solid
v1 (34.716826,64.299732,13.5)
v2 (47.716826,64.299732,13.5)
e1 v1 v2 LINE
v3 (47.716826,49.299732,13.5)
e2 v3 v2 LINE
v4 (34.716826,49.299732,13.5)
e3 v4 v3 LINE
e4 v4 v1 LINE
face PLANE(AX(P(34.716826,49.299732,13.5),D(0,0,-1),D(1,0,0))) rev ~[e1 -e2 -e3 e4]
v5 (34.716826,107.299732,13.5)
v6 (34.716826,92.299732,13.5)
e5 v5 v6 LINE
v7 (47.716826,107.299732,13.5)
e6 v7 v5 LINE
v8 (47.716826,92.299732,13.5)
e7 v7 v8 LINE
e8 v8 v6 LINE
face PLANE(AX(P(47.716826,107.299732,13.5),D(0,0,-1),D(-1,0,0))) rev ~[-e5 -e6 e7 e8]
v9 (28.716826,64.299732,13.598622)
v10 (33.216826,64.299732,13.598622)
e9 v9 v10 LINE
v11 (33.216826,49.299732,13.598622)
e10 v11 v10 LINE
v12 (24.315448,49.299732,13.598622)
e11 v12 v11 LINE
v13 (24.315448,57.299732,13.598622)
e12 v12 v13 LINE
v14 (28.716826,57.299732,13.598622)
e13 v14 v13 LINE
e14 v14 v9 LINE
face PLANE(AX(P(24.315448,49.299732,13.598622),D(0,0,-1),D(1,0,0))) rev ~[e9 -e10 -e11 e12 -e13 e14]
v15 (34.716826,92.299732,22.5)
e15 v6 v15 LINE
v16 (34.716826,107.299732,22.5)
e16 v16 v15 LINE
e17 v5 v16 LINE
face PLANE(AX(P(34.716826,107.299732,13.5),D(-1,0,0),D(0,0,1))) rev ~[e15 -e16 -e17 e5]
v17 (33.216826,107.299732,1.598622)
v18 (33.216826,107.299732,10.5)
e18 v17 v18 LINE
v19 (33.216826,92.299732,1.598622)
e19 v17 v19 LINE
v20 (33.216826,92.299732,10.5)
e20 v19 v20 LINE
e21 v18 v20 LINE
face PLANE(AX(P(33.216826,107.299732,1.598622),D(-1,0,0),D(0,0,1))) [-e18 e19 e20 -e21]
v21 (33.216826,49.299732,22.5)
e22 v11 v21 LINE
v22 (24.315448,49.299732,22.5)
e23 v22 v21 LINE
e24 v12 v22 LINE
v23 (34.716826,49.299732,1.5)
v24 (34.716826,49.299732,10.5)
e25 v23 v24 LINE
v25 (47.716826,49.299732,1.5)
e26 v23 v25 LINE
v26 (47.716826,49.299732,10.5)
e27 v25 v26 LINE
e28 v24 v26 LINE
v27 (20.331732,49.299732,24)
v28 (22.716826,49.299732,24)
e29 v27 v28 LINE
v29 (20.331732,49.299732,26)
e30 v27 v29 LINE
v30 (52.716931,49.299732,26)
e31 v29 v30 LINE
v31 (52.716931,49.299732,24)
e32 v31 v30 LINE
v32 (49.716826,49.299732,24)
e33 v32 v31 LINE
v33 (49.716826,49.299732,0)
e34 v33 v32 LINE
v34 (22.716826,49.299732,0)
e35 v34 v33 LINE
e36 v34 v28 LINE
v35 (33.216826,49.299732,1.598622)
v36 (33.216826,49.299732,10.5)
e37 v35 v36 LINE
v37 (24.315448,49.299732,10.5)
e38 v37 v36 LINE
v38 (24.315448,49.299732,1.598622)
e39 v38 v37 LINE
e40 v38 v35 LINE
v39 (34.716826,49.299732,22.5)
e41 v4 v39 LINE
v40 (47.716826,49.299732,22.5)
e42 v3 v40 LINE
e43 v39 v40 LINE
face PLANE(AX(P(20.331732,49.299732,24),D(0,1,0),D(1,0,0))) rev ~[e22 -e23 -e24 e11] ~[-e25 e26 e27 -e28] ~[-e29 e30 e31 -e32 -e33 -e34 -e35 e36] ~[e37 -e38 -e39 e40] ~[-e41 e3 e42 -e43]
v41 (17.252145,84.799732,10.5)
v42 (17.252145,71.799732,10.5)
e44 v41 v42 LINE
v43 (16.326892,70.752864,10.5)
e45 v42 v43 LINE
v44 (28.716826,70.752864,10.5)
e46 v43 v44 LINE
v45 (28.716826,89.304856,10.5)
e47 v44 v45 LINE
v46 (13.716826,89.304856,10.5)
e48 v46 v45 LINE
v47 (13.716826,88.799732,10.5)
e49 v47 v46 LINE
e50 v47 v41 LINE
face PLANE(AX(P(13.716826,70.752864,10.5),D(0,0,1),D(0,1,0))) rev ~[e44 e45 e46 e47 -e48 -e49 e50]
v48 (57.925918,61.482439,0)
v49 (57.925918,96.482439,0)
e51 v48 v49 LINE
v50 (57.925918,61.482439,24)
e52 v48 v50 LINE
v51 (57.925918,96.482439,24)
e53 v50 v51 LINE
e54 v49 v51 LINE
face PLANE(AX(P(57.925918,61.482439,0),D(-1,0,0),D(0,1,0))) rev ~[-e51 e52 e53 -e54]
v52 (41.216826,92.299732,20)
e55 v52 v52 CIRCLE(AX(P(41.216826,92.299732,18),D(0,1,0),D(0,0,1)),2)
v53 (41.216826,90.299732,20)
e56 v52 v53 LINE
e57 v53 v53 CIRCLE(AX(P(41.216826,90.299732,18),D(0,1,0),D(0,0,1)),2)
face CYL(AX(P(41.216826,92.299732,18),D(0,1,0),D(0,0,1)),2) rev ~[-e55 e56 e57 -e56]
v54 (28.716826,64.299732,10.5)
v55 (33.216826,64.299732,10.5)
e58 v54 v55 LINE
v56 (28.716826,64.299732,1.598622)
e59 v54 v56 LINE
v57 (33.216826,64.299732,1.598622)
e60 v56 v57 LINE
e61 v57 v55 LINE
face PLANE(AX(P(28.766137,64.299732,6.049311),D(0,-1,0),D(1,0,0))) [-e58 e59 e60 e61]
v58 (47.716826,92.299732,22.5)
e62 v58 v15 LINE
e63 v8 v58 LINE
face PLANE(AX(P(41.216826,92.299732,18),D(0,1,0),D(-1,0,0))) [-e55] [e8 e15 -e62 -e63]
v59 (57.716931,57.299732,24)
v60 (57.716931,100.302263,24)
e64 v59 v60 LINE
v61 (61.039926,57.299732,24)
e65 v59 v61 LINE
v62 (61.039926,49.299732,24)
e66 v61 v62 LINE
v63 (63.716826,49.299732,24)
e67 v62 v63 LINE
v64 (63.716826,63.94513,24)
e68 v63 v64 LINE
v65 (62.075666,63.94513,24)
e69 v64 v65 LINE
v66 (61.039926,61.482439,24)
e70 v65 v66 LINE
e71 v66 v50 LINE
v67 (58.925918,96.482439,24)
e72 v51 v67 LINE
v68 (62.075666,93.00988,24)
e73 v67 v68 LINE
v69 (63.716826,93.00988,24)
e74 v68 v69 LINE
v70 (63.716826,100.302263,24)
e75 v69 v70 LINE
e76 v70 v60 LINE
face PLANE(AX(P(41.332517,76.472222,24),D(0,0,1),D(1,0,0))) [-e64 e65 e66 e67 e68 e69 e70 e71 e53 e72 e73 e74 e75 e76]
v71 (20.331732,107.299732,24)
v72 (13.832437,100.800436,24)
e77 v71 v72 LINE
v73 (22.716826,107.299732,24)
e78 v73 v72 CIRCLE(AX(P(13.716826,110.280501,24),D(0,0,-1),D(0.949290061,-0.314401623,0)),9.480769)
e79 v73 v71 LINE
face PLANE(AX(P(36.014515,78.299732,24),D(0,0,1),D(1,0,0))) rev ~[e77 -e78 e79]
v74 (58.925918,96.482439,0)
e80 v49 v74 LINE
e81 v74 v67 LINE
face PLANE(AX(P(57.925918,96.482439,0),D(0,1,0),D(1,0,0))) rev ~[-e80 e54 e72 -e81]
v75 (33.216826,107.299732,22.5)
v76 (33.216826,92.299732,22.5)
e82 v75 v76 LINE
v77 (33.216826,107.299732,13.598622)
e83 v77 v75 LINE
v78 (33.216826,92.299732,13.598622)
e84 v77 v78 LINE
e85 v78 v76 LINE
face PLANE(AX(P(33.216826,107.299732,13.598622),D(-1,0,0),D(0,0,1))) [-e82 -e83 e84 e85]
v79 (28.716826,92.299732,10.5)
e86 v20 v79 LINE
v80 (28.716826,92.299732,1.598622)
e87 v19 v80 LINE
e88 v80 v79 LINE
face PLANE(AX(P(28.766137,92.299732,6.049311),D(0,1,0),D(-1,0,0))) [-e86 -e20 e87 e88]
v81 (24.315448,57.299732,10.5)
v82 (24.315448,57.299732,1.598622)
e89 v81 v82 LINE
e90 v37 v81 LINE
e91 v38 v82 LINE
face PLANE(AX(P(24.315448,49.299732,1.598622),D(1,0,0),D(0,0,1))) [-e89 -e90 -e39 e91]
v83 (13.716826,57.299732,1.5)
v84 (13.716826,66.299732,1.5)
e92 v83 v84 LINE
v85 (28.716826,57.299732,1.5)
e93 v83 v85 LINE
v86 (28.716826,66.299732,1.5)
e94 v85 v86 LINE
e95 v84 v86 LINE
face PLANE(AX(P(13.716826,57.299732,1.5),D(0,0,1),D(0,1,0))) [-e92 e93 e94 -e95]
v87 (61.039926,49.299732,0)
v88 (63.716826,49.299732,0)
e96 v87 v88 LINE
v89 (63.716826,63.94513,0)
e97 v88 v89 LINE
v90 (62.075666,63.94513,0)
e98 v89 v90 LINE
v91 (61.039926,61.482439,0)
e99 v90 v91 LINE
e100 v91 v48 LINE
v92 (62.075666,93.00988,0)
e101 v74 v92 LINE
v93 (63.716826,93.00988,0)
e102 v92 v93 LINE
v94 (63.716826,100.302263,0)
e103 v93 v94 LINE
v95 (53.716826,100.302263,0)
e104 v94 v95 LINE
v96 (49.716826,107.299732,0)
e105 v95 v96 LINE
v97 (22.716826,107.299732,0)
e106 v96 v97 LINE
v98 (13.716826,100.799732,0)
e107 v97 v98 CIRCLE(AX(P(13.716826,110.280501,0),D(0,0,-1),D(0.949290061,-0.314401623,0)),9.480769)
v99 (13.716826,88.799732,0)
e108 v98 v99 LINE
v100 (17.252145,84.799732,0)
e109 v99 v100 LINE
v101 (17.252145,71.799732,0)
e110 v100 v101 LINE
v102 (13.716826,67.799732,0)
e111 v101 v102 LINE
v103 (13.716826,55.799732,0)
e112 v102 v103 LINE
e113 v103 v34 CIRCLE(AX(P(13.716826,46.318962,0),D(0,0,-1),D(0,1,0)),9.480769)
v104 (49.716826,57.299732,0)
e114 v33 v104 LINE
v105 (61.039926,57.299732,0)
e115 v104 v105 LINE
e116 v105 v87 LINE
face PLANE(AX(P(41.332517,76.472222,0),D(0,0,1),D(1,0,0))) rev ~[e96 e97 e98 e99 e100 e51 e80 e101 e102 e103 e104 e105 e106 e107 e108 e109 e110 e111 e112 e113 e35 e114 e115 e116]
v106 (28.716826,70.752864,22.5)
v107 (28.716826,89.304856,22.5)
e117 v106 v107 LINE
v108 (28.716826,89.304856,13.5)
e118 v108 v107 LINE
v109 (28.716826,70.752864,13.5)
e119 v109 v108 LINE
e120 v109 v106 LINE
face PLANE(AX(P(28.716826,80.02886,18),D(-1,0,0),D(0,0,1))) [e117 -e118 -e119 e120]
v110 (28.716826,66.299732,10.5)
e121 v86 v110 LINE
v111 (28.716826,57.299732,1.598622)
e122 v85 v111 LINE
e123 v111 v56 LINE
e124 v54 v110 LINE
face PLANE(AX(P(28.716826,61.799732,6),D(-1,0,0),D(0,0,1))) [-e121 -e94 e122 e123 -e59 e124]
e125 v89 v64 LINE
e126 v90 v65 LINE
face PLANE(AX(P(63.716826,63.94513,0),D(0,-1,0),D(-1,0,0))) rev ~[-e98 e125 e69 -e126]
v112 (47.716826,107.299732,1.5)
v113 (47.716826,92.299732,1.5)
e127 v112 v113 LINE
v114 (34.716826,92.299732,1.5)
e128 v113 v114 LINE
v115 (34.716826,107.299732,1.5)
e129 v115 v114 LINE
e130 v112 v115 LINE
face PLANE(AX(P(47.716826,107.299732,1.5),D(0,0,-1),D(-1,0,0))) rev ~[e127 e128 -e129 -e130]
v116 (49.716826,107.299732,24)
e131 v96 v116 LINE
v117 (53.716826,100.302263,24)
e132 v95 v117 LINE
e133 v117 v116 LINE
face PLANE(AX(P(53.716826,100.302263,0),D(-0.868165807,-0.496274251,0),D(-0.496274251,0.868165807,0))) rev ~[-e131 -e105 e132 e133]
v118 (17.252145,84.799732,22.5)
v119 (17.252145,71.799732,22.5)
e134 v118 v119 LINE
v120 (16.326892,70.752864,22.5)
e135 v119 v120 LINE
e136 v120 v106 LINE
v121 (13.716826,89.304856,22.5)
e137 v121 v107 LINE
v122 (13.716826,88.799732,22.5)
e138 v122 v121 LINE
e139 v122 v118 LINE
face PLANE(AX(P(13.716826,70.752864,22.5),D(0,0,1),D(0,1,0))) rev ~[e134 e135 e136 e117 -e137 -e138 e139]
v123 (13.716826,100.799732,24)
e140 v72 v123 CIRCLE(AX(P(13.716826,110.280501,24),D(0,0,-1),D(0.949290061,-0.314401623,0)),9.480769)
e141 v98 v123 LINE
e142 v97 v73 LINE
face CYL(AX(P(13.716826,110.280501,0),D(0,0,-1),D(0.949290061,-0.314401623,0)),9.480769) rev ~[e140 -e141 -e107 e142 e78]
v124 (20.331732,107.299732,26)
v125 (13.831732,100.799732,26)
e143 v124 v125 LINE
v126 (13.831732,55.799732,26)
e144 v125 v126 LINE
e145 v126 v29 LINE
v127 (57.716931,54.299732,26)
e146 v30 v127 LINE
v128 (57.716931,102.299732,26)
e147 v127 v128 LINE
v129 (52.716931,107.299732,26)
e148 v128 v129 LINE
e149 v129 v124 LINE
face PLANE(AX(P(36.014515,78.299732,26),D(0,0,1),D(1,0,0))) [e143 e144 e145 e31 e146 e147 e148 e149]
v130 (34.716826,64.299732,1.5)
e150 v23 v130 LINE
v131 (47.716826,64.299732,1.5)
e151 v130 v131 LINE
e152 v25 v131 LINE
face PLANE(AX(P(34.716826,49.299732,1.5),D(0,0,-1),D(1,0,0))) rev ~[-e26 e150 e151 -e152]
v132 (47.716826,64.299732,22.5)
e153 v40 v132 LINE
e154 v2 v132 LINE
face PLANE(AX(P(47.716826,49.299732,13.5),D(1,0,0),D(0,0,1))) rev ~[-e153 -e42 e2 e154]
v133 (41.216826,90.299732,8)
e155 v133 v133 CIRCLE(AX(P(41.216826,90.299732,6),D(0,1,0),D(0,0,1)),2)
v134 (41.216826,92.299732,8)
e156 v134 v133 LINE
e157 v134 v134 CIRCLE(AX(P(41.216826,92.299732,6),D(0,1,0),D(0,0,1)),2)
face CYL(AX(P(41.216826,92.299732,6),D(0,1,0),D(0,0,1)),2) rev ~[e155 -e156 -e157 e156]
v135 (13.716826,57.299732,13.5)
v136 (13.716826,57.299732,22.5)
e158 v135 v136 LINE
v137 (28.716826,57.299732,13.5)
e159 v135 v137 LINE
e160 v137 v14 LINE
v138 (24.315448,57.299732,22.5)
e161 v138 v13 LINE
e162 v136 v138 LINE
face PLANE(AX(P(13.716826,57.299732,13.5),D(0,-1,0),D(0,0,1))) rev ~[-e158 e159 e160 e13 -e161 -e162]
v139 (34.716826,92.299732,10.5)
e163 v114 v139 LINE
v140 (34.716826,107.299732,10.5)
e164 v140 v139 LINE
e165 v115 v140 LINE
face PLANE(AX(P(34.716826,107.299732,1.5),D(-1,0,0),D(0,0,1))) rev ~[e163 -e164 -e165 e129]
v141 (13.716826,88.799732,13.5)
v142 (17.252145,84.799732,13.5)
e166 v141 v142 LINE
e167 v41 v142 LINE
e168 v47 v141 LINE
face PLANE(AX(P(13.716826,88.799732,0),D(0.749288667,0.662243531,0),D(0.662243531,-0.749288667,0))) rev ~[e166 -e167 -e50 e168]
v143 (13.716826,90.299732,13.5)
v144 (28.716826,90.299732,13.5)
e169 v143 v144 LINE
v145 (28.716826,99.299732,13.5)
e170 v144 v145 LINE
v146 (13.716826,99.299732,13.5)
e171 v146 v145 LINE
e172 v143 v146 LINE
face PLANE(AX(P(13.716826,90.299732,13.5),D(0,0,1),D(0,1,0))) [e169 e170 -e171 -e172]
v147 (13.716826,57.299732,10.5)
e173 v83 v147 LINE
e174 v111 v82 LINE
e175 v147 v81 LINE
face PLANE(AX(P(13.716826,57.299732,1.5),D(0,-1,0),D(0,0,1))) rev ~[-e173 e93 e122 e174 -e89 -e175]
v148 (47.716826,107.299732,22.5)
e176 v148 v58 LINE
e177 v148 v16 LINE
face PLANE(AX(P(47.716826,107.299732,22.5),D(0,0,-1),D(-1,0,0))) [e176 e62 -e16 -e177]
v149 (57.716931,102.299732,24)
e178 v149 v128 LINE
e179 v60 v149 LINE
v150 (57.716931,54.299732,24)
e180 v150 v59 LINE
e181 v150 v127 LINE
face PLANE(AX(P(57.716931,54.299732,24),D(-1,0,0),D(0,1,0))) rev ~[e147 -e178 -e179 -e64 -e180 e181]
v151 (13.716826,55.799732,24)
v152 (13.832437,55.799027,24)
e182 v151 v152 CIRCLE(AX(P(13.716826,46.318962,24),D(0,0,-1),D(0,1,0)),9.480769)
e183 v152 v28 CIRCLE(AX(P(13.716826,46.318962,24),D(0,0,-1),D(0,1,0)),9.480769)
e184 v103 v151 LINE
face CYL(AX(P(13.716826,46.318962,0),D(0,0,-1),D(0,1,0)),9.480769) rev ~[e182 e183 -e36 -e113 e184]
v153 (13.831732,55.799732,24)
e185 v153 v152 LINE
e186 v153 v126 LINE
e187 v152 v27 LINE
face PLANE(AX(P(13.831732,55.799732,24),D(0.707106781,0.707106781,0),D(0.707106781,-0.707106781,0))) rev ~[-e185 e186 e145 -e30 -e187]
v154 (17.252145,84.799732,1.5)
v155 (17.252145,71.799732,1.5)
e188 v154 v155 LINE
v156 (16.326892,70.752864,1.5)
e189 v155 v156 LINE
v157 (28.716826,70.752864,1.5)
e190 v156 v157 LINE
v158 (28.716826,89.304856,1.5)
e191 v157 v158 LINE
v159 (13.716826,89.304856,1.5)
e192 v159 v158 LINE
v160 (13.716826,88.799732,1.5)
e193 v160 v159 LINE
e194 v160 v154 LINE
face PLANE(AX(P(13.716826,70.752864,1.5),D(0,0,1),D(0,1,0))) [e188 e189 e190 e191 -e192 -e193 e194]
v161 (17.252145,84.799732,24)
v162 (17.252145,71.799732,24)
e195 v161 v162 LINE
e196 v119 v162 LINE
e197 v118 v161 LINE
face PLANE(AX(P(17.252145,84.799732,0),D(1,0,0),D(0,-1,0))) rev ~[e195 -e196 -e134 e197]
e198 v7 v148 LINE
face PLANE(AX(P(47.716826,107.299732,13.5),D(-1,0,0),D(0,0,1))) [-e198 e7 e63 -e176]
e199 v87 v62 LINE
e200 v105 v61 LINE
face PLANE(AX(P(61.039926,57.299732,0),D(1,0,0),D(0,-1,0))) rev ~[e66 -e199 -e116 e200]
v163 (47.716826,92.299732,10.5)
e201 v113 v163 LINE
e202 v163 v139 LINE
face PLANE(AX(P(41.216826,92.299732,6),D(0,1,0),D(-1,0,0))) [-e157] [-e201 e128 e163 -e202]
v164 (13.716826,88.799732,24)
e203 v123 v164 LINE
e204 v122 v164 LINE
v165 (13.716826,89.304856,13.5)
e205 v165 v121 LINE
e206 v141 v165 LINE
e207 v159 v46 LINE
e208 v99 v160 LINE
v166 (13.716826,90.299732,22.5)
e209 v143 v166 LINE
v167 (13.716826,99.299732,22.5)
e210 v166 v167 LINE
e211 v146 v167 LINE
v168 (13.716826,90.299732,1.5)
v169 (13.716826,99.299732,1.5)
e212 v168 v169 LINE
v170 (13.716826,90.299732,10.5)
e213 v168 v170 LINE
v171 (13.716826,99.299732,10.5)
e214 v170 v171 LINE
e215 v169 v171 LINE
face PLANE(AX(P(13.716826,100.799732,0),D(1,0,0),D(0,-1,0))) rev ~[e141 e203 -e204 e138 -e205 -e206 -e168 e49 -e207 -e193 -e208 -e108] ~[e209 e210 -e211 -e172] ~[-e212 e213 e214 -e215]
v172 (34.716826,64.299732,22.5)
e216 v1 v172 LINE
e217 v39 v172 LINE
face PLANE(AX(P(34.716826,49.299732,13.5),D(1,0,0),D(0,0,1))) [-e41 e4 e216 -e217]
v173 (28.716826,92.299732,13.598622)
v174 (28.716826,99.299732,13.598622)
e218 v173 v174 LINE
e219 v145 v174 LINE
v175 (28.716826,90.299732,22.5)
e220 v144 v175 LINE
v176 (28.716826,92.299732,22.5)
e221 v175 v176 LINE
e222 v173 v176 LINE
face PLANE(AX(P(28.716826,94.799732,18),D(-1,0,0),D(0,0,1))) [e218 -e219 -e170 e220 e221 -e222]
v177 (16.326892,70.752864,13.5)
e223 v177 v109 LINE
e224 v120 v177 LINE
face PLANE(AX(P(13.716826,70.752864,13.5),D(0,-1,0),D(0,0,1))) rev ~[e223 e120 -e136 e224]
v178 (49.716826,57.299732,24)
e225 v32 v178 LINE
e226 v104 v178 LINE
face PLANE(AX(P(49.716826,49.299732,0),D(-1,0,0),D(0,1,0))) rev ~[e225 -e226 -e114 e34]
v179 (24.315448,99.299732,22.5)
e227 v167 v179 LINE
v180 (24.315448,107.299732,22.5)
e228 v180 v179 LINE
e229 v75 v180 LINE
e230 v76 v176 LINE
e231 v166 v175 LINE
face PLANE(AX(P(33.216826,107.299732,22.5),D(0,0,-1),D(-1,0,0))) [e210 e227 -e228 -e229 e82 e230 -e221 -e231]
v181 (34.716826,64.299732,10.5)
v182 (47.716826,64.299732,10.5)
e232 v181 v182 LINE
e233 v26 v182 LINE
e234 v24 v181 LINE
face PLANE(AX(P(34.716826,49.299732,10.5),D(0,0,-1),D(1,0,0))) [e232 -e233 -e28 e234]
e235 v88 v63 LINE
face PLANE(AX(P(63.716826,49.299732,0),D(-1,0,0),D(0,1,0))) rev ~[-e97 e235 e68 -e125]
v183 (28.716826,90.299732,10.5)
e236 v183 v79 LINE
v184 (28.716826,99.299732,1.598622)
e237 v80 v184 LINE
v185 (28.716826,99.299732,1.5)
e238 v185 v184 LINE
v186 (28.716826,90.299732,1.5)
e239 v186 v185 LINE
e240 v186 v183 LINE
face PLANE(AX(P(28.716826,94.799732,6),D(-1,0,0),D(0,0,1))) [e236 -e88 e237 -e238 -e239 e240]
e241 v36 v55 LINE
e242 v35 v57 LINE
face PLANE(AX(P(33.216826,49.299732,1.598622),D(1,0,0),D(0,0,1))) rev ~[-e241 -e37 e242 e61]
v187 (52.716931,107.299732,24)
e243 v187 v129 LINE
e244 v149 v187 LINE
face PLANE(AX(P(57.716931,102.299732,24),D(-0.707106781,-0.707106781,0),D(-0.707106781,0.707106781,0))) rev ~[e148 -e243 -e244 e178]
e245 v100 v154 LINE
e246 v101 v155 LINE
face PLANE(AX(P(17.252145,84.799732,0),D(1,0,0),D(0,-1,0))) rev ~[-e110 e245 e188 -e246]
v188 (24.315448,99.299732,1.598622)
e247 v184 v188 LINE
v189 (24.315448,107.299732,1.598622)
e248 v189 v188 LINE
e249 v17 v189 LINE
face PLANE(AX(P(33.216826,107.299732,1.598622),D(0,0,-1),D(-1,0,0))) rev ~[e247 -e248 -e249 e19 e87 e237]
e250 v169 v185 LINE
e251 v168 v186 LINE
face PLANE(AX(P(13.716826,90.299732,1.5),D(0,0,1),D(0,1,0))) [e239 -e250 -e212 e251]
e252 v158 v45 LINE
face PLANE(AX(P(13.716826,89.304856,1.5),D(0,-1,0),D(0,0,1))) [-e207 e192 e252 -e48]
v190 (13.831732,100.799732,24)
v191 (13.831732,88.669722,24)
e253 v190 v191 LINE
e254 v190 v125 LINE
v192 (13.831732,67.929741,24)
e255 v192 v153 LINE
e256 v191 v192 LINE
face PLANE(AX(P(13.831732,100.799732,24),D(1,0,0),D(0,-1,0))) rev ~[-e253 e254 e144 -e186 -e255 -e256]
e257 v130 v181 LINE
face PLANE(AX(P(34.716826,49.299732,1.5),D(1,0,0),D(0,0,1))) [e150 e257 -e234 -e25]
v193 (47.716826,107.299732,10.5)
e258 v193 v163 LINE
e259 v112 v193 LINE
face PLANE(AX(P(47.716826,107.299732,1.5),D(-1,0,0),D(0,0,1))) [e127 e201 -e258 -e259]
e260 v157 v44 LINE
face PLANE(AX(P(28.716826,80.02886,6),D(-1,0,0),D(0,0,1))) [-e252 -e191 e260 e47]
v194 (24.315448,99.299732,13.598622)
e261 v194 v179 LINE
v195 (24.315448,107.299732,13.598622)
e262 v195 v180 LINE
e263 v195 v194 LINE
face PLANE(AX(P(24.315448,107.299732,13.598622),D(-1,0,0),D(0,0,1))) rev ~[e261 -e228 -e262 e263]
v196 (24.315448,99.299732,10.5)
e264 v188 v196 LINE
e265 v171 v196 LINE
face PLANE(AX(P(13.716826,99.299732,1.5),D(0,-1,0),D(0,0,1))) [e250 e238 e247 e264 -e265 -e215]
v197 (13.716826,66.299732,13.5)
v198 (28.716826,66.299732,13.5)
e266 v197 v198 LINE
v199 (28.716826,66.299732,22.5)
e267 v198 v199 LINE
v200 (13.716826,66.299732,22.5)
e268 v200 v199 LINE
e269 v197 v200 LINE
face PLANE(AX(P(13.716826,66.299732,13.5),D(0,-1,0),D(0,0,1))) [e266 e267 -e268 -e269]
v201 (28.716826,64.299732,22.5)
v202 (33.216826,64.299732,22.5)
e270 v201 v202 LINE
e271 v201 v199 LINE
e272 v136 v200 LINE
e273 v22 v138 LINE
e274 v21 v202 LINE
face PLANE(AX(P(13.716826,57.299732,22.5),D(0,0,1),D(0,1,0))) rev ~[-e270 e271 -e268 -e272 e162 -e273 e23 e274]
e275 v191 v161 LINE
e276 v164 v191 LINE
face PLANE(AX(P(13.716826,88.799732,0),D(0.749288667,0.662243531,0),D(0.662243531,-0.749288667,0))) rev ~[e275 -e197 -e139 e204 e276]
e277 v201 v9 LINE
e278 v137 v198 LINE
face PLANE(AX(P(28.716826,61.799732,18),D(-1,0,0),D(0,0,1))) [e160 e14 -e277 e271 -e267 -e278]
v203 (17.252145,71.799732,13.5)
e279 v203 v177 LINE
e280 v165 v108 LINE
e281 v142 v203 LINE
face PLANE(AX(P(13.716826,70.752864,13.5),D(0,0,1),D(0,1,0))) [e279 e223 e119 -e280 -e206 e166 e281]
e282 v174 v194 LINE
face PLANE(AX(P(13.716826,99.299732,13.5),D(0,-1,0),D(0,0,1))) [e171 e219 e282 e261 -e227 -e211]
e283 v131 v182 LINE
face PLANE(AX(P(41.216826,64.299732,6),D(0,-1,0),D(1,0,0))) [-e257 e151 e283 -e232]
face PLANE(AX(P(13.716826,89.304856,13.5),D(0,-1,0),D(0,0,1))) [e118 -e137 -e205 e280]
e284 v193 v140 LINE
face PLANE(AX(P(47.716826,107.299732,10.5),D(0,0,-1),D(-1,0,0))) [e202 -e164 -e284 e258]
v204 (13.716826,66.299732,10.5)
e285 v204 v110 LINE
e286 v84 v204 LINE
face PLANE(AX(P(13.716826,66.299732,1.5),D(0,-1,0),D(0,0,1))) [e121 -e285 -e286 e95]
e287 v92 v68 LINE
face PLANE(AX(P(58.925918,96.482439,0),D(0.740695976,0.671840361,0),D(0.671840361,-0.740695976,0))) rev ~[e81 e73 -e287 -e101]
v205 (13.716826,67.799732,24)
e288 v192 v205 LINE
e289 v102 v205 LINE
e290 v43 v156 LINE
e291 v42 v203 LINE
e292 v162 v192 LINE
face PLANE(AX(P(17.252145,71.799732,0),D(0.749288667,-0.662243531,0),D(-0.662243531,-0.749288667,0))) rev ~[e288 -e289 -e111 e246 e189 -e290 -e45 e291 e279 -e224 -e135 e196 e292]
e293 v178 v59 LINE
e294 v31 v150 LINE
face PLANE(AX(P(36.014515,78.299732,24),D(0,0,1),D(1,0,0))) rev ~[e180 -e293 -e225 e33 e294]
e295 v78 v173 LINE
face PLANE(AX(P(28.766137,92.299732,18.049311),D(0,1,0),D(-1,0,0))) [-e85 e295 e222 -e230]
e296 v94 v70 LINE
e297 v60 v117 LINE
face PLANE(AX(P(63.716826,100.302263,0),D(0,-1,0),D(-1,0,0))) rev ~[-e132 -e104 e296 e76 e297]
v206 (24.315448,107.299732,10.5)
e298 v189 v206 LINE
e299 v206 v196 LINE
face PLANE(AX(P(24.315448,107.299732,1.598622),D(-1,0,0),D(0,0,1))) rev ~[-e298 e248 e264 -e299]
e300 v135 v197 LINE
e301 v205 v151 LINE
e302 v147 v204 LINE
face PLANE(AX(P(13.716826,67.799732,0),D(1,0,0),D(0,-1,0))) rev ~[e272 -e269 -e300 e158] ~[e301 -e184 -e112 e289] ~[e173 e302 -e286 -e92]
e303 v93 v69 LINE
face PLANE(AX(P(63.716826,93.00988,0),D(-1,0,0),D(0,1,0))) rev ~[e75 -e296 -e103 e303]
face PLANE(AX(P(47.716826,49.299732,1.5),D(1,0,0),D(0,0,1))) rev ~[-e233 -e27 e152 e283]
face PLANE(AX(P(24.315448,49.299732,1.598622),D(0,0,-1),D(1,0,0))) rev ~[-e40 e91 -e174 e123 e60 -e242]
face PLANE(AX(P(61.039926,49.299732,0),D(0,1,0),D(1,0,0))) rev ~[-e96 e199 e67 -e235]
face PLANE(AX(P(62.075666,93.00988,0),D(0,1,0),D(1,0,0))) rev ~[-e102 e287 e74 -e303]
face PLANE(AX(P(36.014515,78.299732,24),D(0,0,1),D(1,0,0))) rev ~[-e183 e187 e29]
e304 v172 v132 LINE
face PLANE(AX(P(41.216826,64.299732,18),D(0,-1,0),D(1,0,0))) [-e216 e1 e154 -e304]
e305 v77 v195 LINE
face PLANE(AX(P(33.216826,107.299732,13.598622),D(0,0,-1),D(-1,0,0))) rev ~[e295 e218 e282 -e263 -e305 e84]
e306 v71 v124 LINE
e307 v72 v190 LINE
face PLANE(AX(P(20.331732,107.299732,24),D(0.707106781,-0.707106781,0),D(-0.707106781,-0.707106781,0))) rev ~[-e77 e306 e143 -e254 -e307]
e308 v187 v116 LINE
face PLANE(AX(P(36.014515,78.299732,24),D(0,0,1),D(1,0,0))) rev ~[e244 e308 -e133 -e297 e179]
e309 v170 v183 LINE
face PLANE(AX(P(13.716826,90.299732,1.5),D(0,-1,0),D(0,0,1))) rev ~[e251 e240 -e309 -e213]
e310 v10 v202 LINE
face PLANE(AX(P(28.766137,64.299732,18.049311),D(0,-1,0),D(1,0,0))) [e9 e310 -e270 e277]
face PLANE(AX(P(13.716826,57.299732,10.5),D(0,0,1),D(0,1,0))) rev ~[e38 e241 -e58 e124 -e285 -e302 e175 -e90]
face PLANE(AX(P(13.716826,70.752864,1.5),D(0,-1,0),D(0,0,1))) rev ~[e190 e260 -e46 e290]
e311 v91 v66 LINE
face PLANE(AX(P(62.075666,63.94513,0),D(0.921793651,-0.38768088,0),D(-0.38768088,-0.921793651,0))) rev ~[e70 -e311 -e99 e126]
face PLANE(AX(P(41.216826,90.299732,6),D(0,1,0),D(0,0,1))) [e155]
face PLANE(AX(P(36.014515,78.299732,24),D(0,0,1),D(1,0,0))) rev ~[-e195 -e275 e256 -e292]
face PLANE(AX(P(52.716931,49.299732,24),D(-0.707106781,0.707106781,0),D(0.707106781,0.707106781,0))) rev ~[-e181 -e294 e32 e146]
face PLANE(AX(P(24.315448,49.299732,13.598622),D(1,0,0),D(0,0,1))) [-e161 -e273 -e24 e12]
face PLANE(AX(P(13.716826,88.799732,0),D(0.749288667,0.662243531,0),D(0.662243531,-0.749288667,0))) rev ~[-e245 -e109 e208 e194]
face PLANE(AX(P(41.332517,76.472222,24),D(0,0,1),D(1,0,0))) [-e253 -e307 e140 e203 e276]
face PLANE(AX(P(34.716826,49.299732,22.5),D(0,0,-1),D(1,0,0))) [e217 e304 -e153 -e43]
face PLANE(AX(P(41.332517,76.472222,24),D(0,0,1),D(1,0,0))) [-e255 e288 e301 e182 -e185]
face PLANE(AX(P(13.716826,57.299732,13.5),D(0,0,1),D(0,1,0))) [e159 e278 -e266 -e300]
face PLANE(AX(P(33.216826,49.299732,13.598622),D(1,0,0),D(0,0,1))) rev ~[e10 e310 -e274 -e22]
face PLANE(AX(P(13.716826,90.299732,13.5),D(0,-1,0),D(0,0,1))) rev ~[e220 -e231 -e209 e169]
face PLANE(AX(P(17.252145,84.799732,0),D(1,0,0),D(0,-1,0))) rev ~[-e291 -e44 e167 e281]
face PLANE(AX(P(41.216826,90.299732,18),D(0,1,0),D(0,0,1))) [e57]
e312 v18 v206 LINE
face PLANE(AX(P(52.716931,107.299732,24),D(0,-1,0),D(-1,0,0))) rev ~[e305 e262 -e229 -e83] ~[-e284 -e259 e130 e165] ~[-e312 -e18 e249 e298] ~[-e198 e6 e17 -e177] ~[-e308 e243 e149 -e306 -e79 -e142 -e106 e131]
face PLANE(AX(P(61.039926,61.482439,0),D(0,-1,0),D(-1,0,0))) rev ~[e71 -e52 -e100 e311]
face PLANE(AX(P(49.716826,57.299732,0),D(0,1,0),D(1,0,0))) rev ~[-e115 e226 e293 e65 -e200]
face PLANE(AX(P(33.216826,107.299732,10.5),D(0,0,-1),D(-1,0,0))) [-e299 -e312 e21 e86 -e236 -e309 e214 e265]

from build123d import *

# Parameters (mm, degrees)
EXTRUDE_2_DEPTH     = 24
SKETCH_4_W          = 8.901377932
SKETCH_4_H          = 8.901377932
SKETCH_4_W_2        = 13
SKETCH_4_H_2        = 9
CUT_EXTRUDE_3_DEPTH = 15
SKETCH_5_R          = 2
CUT_EXTRUDE_4_DEPTH = 2
SKETCH_6_W          = 8.901377932
SKETCH_6_H          = 8.901377932
SKETCH_6_W_2        = 13
SKETCH_6_H_2        = 9
CUT_EXTRUDE_5_DEPTH = 15
SKETCH_7_W          = 9
SKETCH_7_H          = 9
SKETCH_7_H_2        = 18.551992086
CUT_EXTRUDE_6_DEPTH = 15
EXTRUDE_3_DEPTH     = 2


with BuildPart() as part:
    # Эскиз1 → Вытянуть2 (new body)
    with BuildSketch(Plane.XY):
        with BuildLine():
            Line((53.716826077, 100.302263468), (49.716826077, 107.299731538))
            Line((49.716826077, 107.299731538), (43.716826077, 107.299731538))
            Line((43.716826077, 107.299731538), (22.716826077, 107.299731538))
            ThreePointArc((22.716826077, 107.299731538), (19.267726905, 102.594638084), (13.716826077, 100.799731538))
            Line((13.716826077, 100.799731538), (13.716826077, 88.799731538))
            Line((13.716826077, 88.799731538), (17.252144627, 84.799731538))
            Line((17.252144627, 84.799731538), (17.252144627, 71.799731538))
            Line((17.252144627, 71.799731538), (13.716826077, 67.799731538))
            Line((13.716826077, 67.799731538), (13.716826077, 55.799731538))
            ThreePointArc((13.716826077, 55.799731538), (19.267726905, 54.004824992), (22.716826077, 49.299731538))
            Line((22.716826077, 49.299731538), (49.716826077, 49.299731538))
            Line((49.716826077, 49.299731538), (49.716826077, 57.299731538))
            Line((49.716826077, 57.299731538), (61.039926278, 57.299731538))
            Line((61.039926278, 57.299731538), (61.039926278, 49.299731538))
            Line((61.039926278, 49.299731538), (63.716826077, 49.299731538))
            Line((63.716826077, 49.299731538), (63.716826077, 57.299731538))
            Line((63.716826077, 57.299731538), (63.716826077, 63.945130452))
            Line((63.716826077, 63.945130452), (62.075665924, 63.945130452))
            Line((62.075665924, 63.945130452), (61.039926278, 61.482439413))
            Line((61.039926278, 61.482439413), (57.925918002, 61.482439413))
            Line((57.925918002, 61.482439413), (57.925918002, 96.482439413))
            Line((57.925918002, 96.482439413), (58.925918002, 96.482439413))
            Line((58.925918002, 96.482439413), (62.075665924, 93.009879938))
            Line((62.075665924, 93.009879938), (63.716826077, 93.009879938))
            Line((63.716826077, 93.009879938), (63.716826077, 100.302263468))
            Line((63.716826077, 100.302263468), (53.716826077, 100.302263468))
        make_face()
    extrude(amount=EXTRUDE_2_DEPTH)

    # Эскиз4 → Вырез-Вытянуть3 (cut)
    with BuildSketch(Plane(origin=(0, 107.299731538, 0), x_dir=(-1, 0, 0), z_dir=(0, 1, 0))):
        with Locations((-28.766137111, 6.049311034)):
            Rectangle(SKETCH_4_W, SKETCH_4_H)
        with Locations((-28.766137111, 18.049311034)):
            Rectangle(SKETCH_4_W, SKETCH_4_H)
        with Locations((-41.216826077, 18)):
            Rectangle(SKETCH_4_W_2, SKETCH_4_H_2)
        with Locations((-41.216826077, 6)):
            Rectangle(SKETCH_4_W_2, SKETCH_4_H_2)
    extrude(amount=-CUT_EXTRUDE_3_DEPTH, mode=Mode.SUBTRACT)

    # Эскиз5 → Вырез-Вытянуть4 (cut)
    with BuildSketch(Plane(origin=(0, 92.299731538, 0), x_dir=(-1, 0, 0), z_dir=(0, 1, 0))):
        with Locations(Location((-41.216826077, 18, 0), (0, 0, 90))):
            Circle(SKETCH_5_R)
        with Locations(Location((-41.216826077, 6, 0), (0, 0, 90))):
            Circle(SKETCH_5_R)
    extrude(amount=-CUT_EXTRUDE_4_DEPTH, mode=Mode.SUBTRACT)

    # Эскиз6 → Вырез-Вытянуть5 (cut)
    with BuildSketch(Plane.XZ.offset(-49.299731538)):
        with Locations((28.766137111, 6.049311034)):
            Rectangle(SKETCH_6_W, SKETCH_6_H)
        with Locations((41.216826077, 6)):
            Rectangle(SKETCH_6_W_2, SKETCH_6_H_2)
        with Locations((41.216826077, 18)):
            Rectangle(SKETCH_6_W_2, SKETCH_6_H_2)
        with Locations((28.766137111, 18.049311034)):
            Rectangle(SKETCH_6_W, SKETCH_6_H)
    extrude(amount=-CUT_EXTRUDE_5_DEPTH, mode=Mode.SUBTRACT)

    # Эскиз7 → Вырез-Вытянуть6 (cut)
    with BuildSketch(Plane.ZY.offset(-13.716826077)):
        with Locations((18, 94.799731538)):
            Rectangle(SKETCH_7_W, SKETCH_7_H)
        with Locations((18, 61.799731538)):
            Rectangle(SKETCH_7_W, SKETCH_7_H)
        with Locations((6, 94.799731538)):
            Rectangle(SKETCH_7_W, SKETCH_7_H)
        with Locations((6, 61.799731538)):
            Rectangle(SKETCH_7_W, SKETCH_7_H)
        with Locations((6, 80.02885964)):
            Rectangle(SKETCH_7_W, SKETCH_7_H_2)
        with Locations((18, 80.02885964)):
            Rectangle(SKETCH_7_W, SKETCH_7_H_2)
    extrude(amount=-CUT_EXTRUDE_6_DEPTH, mode=Mode.SUBTRACT)

    # Эскиз8 → Вытянуть3 (add)
    with BuildSketch(Plane.XY.offset(24)):
        Polygon((20.331732254, 49.299731538), (52.716931495, 49.299731538), (57.716931495, 54.299731538), (57.716931495, 102.299731538), (52.716931495, 107.299731538), (20.331732254, 107.299731538), (13.831732254, 100.799731538), (13.831732254, 55.799731538), align=None)
    extrude(amount=EXTRUDE_3_DEPTH)


solid = part.part
